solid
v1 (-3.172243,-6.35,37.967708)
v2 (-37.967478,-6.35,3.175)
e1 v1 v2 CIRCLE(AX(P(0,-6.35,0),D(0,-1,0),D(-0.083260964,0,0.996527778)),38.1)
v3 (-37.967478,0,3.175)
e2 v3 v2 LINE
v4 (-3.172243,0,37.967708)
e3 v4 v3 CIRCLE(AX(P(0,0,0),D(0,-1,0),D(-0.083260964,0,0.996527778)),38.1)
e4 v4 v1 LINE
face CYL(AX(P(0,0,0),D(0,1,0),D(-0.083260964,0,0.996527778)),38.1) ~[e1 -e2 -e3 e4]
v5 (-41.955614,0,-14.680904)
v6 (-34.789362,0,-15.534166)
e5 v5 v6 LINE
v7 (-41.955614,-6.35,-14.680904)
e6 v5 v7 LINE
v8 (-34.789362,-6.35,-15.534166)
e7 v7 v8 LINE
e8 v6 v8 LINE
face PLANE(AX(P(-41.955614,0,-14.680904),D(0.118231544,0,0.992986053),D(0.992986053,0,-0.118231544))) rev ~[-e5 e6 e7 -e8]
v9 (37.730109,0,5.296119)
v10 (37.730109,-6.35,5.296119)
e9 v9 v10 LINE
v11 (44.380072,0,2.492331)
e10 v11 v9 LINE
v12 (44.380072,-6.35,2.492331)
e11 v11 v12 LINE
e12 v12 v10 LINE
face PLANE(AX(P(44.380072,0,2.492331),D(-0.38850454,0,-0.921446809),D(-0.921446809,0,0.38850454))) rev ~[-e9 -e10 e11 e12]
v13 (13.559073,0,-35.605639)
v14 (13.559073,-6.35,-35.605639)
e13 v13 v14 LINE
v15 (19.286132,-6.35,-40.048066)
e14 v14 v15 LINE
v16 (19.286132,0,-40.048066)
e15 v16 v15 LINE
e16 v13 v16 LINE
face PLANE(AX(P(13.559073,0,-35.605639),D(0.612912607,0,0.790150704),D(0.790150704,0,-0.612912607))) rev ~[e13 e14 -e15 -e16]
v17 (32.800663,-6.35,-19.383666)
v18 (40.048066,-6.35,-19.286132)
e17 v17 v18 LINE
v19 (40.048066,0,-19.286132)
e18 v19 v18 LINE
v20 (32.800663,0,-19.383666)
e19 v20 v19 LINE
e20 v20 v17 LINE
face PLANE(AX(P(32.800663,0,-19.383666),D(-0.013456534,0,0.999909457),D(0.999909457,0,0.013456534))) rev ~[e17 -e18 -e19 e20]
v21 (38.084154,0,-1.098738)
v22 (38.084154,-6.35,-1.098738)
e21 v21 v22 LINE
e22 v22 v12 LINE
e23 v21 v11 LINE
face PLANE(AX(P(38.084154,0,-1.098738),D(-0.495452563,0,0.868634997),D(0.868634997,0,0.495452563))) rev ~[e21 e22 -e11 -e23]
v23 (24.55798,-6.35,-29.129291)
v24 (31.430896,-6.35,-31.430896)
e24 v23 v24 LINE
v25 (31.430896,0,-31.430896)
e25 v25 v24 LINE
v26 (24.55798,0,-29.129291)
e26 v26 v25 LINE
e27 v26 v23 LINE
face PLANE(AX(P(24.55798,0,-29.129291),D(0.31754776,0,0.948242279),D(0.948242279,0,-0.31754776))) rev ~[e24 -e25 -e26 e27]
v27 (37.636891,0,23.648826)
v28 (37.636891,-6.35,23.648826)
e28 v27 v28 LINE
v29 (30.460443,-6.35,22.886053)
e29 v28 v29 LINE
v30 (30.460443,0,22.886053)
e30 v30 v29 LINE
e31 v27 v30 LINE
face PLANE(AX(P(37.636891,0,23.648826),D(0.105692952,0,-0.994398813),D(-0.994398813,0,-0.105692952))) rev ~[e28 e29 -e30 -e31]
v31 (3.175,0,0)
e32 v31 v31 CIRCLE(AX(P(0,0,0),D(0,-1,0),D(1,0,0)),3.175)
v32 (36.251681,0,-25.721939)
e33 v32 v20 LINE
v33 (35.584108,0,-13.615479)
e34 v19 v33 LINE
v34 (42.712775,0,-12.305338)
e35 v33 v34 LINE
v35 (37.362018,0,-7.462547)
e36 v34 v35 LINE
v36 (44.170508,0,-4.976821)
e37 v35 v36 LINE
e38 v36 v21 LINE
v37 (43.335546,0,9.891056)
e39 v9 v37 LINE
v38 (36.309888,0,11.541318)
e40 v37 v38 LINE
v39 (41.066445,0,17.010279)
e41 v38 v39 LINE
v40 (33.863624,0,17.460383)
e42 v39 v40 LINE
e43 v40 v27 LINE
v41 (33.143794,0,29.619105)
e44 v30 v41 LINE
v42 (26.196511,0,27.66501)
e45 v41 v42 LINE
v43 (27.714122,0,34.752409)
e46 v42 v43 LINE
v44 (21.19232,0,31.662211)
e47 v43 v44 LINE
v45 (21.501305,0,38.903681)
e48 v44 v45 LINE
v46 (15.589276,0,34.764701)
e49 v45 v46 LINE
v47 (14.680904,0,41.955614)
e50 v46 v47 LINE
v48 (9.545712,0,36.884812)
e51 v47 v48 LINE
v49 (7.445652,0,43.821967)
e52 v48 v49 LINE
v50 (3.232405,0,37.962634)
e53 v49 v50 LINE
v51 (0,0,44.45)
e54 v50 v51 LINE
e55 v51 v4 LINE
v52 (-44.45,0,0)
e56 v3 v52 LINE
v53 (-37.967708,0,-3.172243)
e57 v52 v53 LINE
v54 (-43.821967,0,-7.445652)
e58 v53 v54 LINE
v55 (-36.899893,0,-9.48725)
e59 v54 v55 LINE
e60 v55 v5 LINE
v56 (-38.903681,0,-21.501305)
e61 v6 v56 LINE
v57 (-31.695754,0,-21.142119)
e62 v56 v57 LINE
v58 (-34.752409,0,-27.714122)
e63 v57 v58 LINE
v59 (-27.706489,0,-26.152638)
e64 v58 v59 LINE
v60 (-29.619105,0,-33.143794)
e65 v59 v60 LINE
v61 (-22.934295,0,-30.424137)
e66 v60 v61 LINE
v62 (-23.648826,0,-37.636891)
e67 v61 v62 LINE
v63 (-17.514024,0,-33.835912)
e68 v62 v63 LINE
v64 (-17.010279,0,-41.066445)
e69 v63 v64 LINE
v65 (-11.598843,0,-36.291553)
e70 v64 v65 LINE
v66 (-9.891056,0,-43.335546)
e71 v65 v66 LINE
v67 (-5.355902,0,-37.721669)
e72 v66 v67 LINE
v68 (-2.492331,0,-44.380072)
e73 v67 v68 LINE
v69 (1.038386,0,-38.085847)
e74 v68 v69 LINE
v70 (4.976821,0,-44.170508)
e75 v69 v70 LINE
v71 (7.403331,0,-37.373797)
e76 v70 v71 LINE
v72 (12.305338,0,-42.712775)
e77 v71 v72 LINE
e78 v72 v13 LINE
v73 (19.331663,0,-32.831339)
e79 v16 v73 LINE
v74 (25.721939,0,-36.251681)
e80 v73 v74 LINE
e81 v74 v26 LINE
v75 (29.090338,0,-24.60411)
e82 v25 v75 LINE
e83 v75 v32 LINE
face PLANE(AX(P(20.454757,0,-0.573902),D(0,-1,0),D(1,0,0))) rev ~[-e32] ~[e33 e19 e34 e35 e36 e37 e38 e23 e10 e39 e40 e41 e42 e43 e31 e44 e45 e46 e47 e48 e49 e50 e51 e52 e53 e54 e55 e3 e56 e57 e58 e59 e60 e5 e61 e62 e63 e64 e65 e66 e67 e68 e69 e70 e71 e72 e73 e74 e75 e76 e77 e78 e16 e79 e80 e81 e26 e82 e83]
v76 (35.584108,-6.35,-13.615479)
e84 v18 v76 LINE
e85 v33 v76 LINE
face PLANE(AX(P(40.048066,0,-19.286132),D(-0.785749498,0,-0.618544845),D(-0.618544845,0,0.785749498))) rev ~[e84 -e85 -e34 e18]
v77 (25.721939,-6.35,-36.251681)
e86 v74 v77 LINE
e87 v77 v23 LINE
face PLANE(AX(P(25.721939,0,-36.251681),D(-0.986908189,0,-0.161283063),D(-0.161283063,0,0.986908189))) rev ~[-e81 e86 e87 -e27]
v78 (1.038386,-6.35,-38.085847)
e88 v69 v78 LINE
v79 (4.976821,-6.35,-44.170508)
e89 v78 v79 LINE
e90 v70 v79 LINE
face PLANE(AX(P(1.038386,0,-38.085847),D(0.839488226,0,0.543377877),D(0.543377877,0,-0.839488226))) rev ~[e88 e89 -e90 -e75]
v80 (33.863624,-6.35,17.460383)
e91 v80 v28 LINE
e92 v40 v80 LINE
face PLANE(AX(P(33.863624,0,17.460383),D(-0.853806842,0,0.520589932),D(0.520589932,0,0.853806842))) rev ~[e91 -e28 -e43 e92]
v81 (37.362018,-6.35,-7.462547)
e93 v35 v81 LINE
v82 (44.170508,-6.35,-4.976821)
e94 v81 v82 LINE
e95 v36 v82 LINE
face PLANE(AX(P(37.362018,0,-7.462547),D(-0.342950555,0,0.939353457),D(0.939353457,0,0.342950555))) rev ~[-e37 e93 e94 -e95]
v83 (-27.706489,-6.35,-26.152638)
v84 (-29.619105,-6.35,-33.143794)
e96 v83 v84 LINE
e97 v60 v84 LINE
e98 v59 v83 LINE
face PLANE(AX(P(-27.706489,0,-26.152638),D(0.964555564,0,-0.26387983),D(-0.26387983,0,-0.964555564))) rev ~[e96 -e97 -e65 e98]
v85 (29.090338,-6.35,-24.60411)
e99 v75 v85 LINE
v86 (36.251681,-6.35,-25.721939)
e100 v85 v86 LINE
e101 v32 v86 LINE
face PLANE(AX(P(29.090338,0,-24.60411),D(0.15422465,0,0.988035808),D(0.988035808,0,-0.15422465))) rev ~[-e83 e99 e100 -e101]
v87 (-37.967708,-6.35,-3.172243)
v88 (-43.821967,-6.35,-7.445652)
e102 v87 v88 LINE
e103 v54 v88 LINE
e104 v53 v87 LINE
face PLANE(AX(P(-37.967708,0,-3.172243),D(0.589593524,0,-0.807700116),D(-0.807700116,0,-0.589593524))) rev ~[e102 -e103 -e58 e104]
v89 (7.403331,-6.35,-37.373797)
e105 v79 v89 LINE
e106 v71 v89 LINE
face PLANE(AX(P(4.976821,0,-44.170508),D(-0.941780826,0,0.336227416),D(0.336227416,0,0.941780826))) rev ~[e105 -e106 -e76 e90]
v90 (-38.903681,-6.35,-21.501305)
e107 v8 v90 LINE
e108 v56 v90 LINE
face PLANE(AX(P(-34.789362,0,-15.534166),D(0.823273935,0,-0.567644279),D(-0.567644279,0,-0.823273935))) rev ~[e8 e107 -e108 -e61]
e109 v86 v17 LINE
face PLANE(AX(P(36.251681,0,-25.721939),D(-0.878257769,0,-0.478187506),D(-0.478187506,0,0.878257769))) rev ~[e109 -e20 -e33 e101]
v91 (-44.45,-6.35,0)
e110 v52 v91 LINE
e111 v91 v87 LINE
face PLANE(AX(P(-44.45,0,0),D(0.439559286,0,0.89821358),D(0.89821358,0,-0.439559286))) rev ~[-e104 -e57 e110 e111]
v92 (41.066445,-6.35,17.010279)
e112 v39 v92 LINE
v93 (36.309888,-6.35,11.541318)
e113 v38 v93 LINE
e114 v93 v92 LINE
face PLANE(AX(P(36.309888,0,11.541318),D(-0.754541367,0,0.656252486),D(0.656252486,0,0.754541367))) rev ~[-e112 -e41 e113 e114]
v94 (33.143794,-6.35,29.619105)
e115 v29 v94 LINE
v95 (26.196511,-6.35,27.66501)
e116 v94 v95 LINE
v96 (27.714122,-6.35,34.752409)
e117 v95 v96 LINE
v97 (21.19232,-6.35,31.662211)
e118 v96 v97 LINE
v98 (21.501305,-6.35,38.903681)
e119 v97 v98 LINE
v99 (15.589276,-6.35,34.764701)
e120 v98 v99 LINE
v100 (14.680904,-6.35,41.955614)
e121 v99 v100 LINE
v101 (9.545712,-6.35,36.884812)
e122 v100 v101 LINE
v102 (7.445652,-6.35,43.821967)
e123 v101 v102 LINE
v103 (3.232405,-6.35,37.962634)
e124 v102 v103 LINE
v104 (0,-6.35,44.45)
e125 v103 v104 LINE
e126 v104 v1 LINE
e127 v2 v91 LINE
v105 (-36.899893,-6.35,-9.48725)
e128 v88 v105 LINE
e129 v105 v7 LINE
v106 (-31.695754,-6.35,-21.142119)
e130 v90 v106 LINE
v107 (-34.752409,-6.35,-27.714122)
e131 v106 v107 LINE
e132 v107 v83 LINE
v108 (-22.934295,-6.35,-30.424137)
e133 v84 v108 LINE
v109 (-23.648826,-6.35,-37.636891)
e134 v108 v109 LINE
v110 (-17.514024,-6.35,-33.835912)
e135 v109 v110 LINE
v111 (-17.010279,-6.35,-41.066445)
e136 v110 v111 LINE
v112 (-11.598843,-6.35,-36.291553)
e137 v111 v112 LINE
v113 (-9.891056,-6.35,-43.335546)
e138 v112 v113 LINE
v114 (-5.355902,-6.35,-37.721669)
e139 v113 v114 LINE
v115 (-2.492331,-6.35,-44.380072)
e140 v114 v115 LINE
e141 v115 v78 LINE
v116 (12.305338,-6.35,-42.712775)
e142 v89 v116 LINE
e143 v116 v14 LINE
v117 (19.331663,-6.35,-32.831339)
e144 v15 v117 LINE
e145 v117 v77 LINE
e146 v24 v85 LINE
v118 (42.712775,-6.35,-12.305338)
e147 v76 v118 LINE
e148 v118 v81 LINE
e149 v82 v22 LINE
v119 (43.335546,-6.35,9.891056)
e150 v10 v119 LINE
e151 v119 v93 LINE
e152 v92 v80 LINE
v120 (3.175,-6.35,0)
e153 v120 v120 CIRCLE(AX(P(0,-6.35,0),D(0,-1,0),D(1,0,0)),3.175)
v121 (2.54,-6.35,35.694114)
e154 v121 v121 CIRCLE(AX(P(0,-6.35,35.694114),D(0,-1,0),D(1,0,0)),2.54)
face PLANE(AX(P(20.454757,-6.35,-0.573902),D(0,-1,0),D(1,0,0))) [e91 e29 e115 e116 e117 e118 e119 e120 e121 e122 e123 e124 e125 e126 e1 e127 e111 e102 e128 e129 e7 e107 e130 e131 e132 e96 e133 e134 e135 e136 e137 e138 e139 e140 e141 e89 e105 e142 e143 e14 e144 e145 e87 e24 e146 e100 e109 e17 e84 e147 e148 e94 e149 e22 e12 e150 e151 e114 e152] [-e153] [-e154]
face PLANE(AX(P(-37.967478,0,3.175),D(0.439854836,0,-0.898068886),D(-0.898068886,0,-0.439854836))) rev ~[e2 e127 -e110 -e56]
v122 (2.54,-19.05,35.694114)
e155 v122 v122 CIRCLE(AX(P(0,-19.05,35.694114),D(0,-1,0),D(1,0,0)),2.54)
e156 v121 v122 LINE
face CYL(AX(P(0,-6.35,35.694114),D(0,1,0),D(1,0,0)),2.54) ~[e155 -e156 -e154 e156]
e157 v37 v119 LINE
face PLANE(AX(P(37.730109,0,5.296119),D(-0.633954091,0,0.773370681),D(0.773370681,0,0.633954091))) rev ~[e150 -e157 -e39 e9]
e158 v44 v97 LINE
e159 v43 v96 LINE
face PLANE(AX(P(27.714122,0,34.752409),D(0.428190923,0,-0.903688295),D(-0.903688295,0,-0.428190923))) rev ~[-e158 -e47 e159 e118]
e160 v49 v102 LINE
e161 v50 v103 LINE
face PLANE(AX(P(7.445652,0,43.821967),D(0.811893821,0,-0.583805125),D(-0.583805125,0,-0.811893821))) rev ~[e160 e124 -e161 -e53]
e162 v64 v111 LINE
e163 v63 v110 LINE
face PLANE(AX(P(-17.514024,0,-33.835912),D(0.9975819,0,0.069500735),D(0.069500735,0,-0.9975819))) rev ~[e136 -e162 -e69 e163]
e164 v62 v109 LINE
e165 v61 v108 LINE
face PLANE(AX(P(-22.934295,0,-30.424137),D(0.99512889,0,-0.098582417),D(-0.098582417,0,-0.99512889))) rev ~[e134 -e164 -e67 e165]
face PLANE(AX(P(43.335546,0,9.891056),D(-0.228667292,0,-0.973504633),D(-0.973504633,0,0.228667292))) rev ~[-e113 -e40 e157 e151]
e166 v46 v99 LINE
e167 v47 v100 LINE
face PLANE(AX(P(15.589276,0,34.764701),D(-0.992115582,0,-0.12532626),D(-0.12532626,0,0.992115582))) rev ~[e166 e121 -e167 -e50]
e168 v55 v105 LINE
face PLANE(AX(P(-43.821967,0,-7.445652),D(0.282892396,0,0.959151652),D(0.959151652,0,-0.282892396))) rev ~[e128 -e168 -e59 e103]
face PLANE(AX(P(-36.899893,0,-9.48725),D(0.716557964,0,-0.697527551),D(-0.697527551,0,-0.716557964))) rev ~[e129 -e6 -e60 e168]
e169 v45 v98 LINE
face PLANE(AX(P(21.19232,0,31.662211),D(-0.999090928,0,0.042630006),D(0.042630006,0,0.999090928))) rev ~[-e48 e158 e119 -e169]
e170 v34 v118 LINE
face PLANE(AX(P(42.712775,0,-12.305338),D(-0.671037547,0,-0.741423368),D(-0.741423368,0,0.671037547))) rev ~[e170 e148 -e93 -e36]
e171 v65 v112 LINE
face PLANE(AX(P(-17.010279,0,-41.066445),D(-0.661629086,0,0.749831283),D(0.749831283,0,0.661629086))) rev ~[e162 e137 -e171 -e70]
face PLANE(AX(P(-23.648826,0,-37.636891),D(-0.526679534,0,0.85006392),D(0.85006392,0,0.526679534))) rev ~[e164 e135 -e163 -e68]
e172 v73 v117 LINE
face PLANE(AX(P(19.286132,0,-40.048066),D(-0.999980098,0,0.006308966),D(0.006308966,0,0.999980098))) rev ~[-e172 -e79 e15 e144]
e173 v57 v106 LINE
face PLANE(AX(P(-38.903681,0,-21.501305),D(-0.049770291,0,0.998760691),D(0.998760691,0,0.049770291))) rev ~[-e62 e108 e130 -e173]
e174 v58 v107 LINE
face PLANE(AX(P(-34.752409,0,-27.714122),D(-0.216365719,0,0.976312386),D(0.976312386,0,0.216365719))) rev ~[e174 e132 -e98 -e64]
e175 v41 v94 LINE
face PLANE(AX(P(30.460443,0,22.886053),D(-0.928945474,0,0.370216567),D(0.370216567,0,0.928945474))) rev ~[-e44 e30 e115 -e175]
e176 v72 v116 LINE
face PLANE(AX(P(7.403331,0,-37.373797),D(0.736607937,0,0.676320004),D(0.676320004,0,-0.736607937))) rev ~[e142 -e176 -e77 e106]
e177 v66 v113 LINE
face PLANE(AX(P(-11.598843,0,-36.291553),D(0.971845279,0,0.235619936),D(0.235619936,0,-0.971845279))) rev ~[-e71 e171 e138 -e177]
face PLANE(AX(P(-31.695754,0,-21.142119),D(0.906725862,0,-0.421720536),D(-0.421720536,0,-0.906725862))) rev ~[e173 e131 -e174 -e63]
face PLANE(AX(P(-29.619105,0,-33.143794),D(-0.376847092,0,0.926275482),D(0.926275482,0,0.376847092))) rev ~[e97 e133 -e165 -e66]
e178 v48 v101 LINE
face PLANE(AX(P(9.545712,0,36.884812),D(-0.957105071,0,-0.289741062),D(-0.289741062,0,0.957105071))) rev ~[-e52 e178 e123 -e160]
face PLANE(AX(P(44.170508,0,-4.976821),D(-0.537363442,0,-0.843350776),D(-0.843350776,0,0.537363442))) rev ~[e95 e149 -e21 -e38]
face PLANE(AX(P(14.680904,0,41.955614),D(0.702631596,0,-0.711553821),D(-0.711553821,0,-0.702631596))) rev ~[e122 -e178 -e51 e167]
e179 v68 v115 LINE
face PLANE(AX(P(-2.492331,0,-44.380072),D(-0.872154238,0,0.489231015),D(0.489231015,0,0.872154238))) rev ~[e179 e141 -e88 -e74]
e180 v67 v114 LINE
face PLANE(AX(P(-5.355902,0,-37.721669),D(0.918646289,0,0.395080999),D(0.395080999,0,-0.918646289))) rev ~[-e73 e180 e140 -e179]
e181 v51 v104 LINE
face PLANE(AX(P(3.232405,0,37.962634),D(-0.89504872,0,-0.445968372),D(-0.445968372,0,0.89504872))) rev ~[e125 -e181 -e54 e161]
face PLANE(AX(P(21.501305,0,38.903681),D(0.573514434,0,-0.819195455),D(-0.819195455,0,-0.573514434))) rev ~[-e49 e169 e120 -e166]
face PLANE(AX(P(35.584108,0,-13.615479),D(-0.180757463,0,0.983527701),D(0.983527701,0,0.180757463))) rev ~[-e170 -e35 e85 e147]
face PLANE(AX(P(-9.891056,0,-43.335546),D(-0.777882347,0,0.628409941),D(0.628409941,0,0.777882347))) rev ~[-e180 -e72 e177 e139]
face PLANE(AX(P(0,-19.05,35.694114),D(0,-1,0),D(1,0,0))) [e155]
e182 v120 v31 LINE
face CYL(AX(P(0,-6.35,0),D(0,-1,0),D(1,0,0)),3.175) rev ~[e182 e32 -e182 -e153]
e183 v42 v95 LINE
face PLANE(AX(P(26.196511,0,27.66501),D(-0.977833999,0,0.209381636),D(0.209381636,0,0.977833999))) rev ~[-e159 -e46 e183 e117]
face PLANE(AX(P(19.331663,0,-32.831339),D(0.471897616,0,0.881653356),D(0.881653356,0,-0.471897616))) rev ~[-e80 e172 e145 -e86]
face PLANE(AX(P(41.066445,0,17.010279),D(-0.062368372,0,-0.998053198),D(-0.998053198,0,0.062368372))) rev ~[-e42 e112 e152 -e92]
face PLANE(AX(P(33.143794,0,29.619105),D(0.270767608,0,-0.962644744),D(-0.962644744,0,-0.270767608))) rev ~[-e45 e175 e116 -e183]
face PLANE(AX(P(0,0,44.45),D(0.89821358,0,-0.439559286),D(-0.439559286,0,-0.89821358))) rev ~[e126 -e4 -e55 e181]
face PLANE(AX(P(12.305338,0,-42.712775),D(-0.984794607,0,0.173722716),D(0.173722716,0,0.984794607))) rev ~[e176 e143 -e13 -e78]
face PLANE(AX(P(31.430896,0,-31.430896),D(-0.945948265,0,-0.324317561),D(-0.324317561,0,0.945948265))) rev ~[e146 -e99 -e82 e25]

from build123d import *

# Parameters (mm, degrees)
F1_DEPTH = 6.35
F2_R     = 3.175
F3_DEPTH = 25.4
F4_R     = 2.54
F5_DEPTH = 12.7


with BuildPart() as f1:
    # F0 (on Front) → F1 (new body)
    with BuildSketch(Plane.XZ):
        with BuildLine():
            ThreePointArc((38.0841538474, -1.0987382425), (38.0960382559, -0.5494262521), (38.1, 0))
            ThreePointArc((38.1, 0), (38.0850124652, 1.0685623641), (38.0400616522, 2.1362840397))
            Line((38.0400616522, 2.1362840397), (0, 0))
            Line((0, 0), (37.8604351969, -4.2658465395))
            ThreePointArc((37.8604351969, -4.2658465395), (38.0052995649, -2.6846238059), (38.0841538474, -1.0987382425))
        make_face()
        with BuildLine():
            ThreePointArc((38.0400616522, 2.1362840397), (38.0850124652, 1.0685623641), (38.1, 0))
            ThreePointArc((38.1, 0), (38.0960382559, -0.5494262521), (38.0841538474, -1.0987382425))
            Line((38.0841538474, -1.0987382425), (44.3800719275, 2.4923313797))
            Line((44.3800719275, 2.4923313797), (38.0400616522, 2.1362840397))
        make_face()
        with BuildLine():
            Line((0, 0), (38.0400616522, 2.1362840397))
            ThreePointArc((38.0400616522, 2.1362840397), (37.9180145859, 3.7194313898), (37.7301090364, 5.2961185886))
            ThreePointArc((37.7301090364, 5.2961185886), (37.4712213075, 6.8932991902), (37.1447534541, 8.4780475837))
            Line((37.1447534541, 8.4780475837), (0, 0))
        make_face()
        with BuildLine():
            ThreePointArc((37.7301090364, 5.2961185886), (37.9180145859, 3.7194313898), (38.0400616522, 2.1362840397))
            Line((38.0400616522, 2.1362840397), (44.3800719275, 2.4923313797))
            Line((44.3800719275, 2.4923313797), (37.7301090364, 5.2961185886))
        make_face()
        with BuildLine():
            Line((44.1705077298, -4.9768209628), (38.0841538474, -1.0987382425))
            ThreePointArc((38.0841538474, -1.0987382425), (38.0052995649, -2.6846238059), (37.8604351969, -4.2658465395))
            Line((37.8604351969, -4.2658465395), (44.1705077298, -4.9768209628))
        make_face()
        with BuildLine():
            ThreePointArc((37.1447534541, 8.4780475837), (37.4712213075, 6.8932991902), (37.7301090364, 5.2961185886))
            Line((37.7301090364, 5.2961185886), (43.3355456965, 9.8910555144))
            Line((43.3355456965, 9.8910555144), (37.1447534541, 8.4780475837))
        make_face()
        with BuildLine():
            Line((-37.5616858055, -6.3819871079), (0, 0))
            Line((0, 0), (6.3819871079, 37.5616858055))
            ThreePointArc((6.3819871079, 37.5616858055), (4.8113745401, 37.794982141), (3.2324052628, 37.9626336839))
            ThreePointArc((3.2324052628, 37.9626336839), (1.6176613743, 38.06564293), (0, 38.1))
            ThreePointArc((0, 38.1), (-1.5875, 38.0669127163), (-3.1722427264, 37.9677083333))
            ThreePointArc((-3.1722427264, 37.9677083333), (-26.9397901024, 26.9417465885), (-37.9674778593, 3.175))
            ThreePointArc((-37.9674778593, 3.175), (-38.0668550477, 1.5888822422), (-38.1, 0))
            ThreePointArc((-38.1, 0), (-38.0669127163, -1.5875), (-37.9677083333, -3.1722427264))
            ThreePointArc((-37.9677083333, -3.1722427264), (-37.7987825134, -4.7814266182), (-37.5616858055, -6.3819871079))
        make_face()
        with BuildLine():
            Line((6.3819871079, 37.5616858055), (0, 0))
            Line((0, 0), (12.5836322605, 35.9619548847))
            ThreePointArc((12.5836322605, 35.9619548847), (11.0742894366, 36.4550423601), (9.5457120638, 36.8848123378))
            ThreePointArc((9.5457120638, 36.8848123378), (7.9710375516, 37.2568458186), (6.3819871079, 37.5616858055))
        make_face()
        with BuildLine():
            Line((12.5836322605, 35.9619548847), (0, 0))
            Line((0, 0), (18.4296895987, 33.3460123747))
            ThreePointArc((18.4296895987, 33.3460123747), (17.0242674724, 34.0849573423), (15.5892764868, 34.7647013308))
            ThreePointArc((15.5892764868, 34.7647013308), (14.099168445, 35.3952461379), (12.5836322605, 35.9619548847))
        make_face()
        with BuildLine():
            Line((18.4296895987, 33.3460123747), (0, 0))
            Line((0, 0), (23.7549614508, 29.787779482))
            ThreePointArc((23.7549614508, 29.787779482), (22.4931743884, 30.7517008624), (21.1923197123, 31.6622106811))
            ThreePointArc((21.1923197123, 31.6622106811), (19.8288855586, 32.5334489027), (18.4296895987, 33.3460123747))
        make_face()
        with BuildLine():
            Line((23.7549614508, 29.787779482), (0, 0))
            Line((0, 0), (28.408966482, 25.38780462))
            ThreePointArc((28.408966482, 25.38780462), (27.3264700157, 26.5494639585), (26.1965111522, 27.6650104546))
            ThreePointArc((26.1965111522, 27.6650104546), (24.9982787585, 28.7523226733), (23.7549614508, 29.787779482))
        make_face()
        with BuildLine():
            Line((28.408966482, 25.38780462), (0, 0))
            Line((0, 0), (32.2601919906, 20.2704221152))
            ThreePointArc((32.2601919906, 20.2704221152), (31.3875752653, 21.5969932853), (30.4604425502, 22.8860533873))
            ThreePointArc((30.4604425502, 22.8860533873), (29.4612715231, 24.1587143748), (28.408966482, 25.38780462))
        make_face()
        with BuildLine():
            Line((32.2601919906, 20.2704221152), (0, 0))
            Line((0, 0), (35.1998101887, 14.5802387731))
            ThreePointArc((35.1998101887, 14.5802387731), (34.5617315756, 16.0342355757), (33.8636238907, 17.4603830711))
            ThreePointArc((33.8636238907, 17.4603830711), (33.0917487681, 18.8824300202), (32.2601919906, 20.2704221152))
        make_face()
        with BuildLine():
            Line((35.1998101887, 14.5802387731), (0, 0))
            Line((0, 0), (37.1447534541, 8.4780475837))
            ThreePointArc((37.1447534541, 8.4780475837), (36.759243755, 10.0183830311), (36.3098882015, 11.5413178967))
            ThreePointArc((36.3098882015, 11.5413178967), (35.7871206021, 13.0725666574), (35.1998101887, 14.5802387731))
        make_face()
        with BuildLine():
            Line((37.8604351969, -4.2658465395), (0, 0))
            Line((0, 0), (36.6109499661, -10.5474329853))
            ThreePointArc((36.6109499661, -10.5474329853), (37.0186321964, -9.0128170016), (37.3620180496, -7.4625469689))
            ThreePointArc((37.3620180496, -7.4625469689), (37.6451735487, -5.8694896273), (37.8604351969, -4.2658465395))
        make_face()
        with BuildLine():
            Line((36.6109499661, -10.5474329853), (0, 0))
            Line((0, 0), (34.3269138671, -16.5309704604))
            ThreePointArc((34.3269138671, -16.5309704604), (34.9858936904, -15.0863263482), (35.5841077294, -13.6154793195))
            ThreePointArc((35.5841077294, -13.6154793195), (36.1301095486, -12.0923605639), (36.6109499661, -10.5474329853))
        make_face()
        with BuildLine():
            Line((34.3269138671, -16.5309704604), (0, 0))
            Line((0, 0), (31.0728691073, -22.0473763845))
            ThreePointArc((31.0728691073, -22.0473763845), (31.9645250962, -20.7335268436), (32.800663011, -19.3836659598))
            ThreePointArc((32.800663011, -19.3836659598), (33.5940822509, -17.9735260235), (34.3269138671, -16.5309704604))
        make_face()
        with BuildLine():
            Line((31.0728691073, -22.0473763845), (0, 0))
            Line((0, 0), (26.9407683632, -26.9407683632))
            ThreePointArc((26.9407683632, -26.9407683632), (28.0399041357, -25.7948401054), (29.090338372, -24.6041096852))
            ThreePointArc((29.090338372, -24.6041096852), (30.1087546213, -23.3467962504), (31.0728691073, -22.0473763845))
        make_face()
        with BuildLine():
            Line((26.9407683632, -26.9407683632), (0, 0))
            Line((0, 0), (22.0473763845, -31.0728691073))
            ThreePointArc((22.0473763845, -31.0728691073), (23.3229326026, -30.1272437308), (24.5579800287, -29.1292913905))
            ThreePointArc((24.5579800287, -29.1292913905), (25.7726149186, -28.0603335735), (26.9407683632, -26.9407683632))
        make_face()
        with BuildLine():
            Line((22.0473763845, -31.0728691073), (0, 0))
            Line((0, 0), (16.5309704604, -34.3269138671))
            ThreePointArc((16.5309704604, -34.3269138671), (17.9469025038, -33.6083128187), (19.3316631953, -32.8313386584))
            ThreePointArc((19.3316631953, -32.8313386584), (20.7081936181, -31.9809430298), (22.0473763845, -31.0728691073))
        make_face()
        with BuildLine():
            Line((16.5309704604, -34.3269138671), (0, 0))
            Line((0, 0), (10.5474329853, -36.6109499661))
            ThreePointArc((10.5474329853, -36.6109499661), (12.0637294988, -36.1396794477), (13.5590729393, -35.6056391745))
            ThreePointArc((13.5590729393, -35.6056391745), (15.0586009493, -34.9978361824), (16.5309704604, -34.3269138671))
        make_face()
        with BuildLine():
            Line((10.5474329853, -36.6109499661), (0, 0))
            Line((0, 0), (4.2658465395, -37.8604351969))
            ThreePointArc((4.2658465395, -37.8604351969), (5.8396600724, -37.6498123533), (7.4033309023, -37.3737968576))
            ThreePointArc((7.4033309023, -37.3737968576), (8.9834828926, -37.0257617763), (10.5474329853, -36.6109499661))
        make_face()
        with BuildLine():
            Line((4.2658465395, -37.8604351969), (0, 0))
            Line((0, 0), (-2.1362840397, -38.0400616522))
            ThreePointArc((-2.1362840397, -38.0400616522), (-0.5494262521, -38.0960382559), (1.0383858149, -38.0858471732))
            ThreePointArc((1.0383858149, -38.0858471732), (2.6545099091, -38.0074147653), (4.2658465395, -37.8604351969))
        make_face()
        with BuildLine():
            Line((-2.1362840397, -38.0400616522), (0, 0))
            Line((0, 0), (-8.4780475837, -37.1447534541))
            ThreePointArc((-8.4780475837, -37.1447534541), (-6.9229869099, -37.4657477204), (-5.3559019404, -37.72166903))
            ThreePointArc((-5.3559019404, -37.72166903), (-3.7494741172, -37.9150556355), (-2.1362840397, -38.0400616522))
        make_face()
        with BuildLine():
            Line((-8.4780475837, -37.1447534541), (0, 0))
            Line((0, 0), (-14.5802387731, -35.1998101887))
            ThreePointArc((-14.5802387731, -35.1998101887), (-13.10091806, -35.7767514734), (-11.598842817, -36.2915533603))
            ThreePointArc((-11.598842817, -36.2915533603), (-10.0475056427, -36.7512942678), (-8.4780475837, -37.1447534541))
        make_face()
        with BuildLine():
            Line((-14.5802387731, -35.1998101887), (0, 0))
            Line((0, 0), (-20.2704221152, -32.2601919906))
            ThreePointArc((-20.2704221152, -32.2601919906), (-18.9086439527, -33.0767771083), (-17.5140240229, -33.83591232))
            ThreePointArc((-17.5140240229, -33.83591232), (-16.0616151259, -34.5490161878), (-14.5802387731, -35.1998101887))
        make_face()
        with BuildLine():
            Line((-20.2704221152, -32.2601919906), (0, 0))
            Line((0, 0), (-25.38780462, -28.408966482))
            ThreePointArc((-25.38780462, -28.408966482), (-24.1820500849, -29.4421204007), (-22.9342945866, -30.4241373225))
            ThreePointArc((-22.9342945866, -30.4241373225), (-21.6218560838, -31.370453288), (-20.2704221152, -32.2601919906))
        make_face()
        with BuildLine():
            Line((-25.38780462, -28.408966482), (0, 0))
            Line((0, 0), (-29.787779482, -23.7549614508))
            ThreePointArc((-29.787779482, -23.7549614508), (-28.7721207415, -24.9754893453), (-27.7064887033, -26.1526381793))
            ThreePointArc((-27.7064887033, -26.1526381793), (-26.5711074332, -27.305425281), (-25.38780462, -28.408966482))
        make_face()
        with BuildLine():
            Line((-29.787779482, -23.7549614508), (0, 0))
            Line((0, 0), (-33.3460123747, -18.4296895987))
            ThreePointArc((-33.3460123747, -18.4296895987), (-32.5491498758, -19.8031018369), (-31.6957538883, -21.142118755))
            ThreePointArc((-31.6957538883, -21.142118755), (-30.7695134129, -22.4688015777), (-29.787779482, -23.7549614508))
        make_face()
        with BuildLine():
            Line((-33.3460123747, -18.4296895987), (0, 0))
            Line((0, 0), (-35.9619548847, -12.5836322605))
            ThreePointArc((-35.9619548847, -12.5836322605), (-35.4064063384, -14.0711190103), (-34.7893616339, -15.534166122))
            ThreePointArc((-34.7893616339, -15.534166122), (-34.0984356221, -16.9972553115), (-33.3460123747, -18.4296895987))
        make_face()
        with BuildLine():
            Line((-35.9619548847, -12.5836322605), (0, 0))
            Line((0, 0), (-37.5616858055, -6.3819871079))
            ThreePointArc((-37.5616858055, -6.3819871079), (-37.263149882, -7.9415150239), (-36.8998928869, -9.4872495981))
            ThreePointArc((-36.8998928869, -9.4872495981), (-36.4638055004, -11.0454012343), (-35.9619548847, -12.5836322605))
        make_face()
        with BuildLine():
            Line((44.1705077298, -4.9768209628), (37.8604351969, -4.2658465395))
            ThreePointArc((37.8604351969, -4.2658465395), (37.6451735487, -5.8694896273), (37.3620180496, -7.4625469689))
            Line((37.3620180496, -7.4625469689), (44.1705077298, -4.9768209628))
        make_face()
        with BuildLine():
            ThreePointArc((36.3098882015, 11.5413178967), (36.759243755, 10.0183830311), (37.1447534541, 8.4780475837))
            Line((37.1447534541, 8.4780475837), (43.3355456965, 9.8910555144))
            Line((43.3355456965, 9.8910555144), (36.3098882015, 11.5413178967))
        make_face()
        with BuildLine():
            Line((7.4456516259, 43.8219667731), (6.3819871079, 37.5616858055))
            ThreePointArc((6.3819871079, 37.5616858055), (7.9710375516, 37.2568458186), (9.5457120638, 36.8848123378))
            Line((9.5457120638, 36.8848123378), (7.4456516259, 43.8219667731))
        make_face()
        with BuildLine():
            ThreePointArc((3.2324052628, 37.9626336839), (4.8113745401, 37.794982141), (6.3819871079, 37.5616858055))
            Line((6.3819871079, 37.5616858055), (7.4456516259, 43.8219667731))
            Line((7.4456516259, 43.8219667731), (3.2324052628, 37.9626336839))
        make_face()
        with BuildLine():
            Line((14.6809043039, 41.9556140322), (12.5836322605, 35.9619548847))
            ThreePointArc((12.5836322605, 35.9619548847), (14.099168445, 35.3952461379), (15.5892764868, 34.7647013308))
            Line((15.5892764868, 34.7647013308), (14.6809043039, 41.9556140322))
        make_face()
        with BuildLine():
            ThreePointArc((9.5457120638, 36.8848123378), (11.0742894366, 36.4550423601), (12.5836322605, 35.9619548847))
            Line((12.5836322605, 35.9619548847), (14.6809043039, 41.9556140322))
            Line((14.6809043039, 41.9556140322), (9.5457120638, 36.8848123378))
        make_face()
        with BuildLine():
            Line((21.5013045318, 38.9036811038), (18.4296895987, 33.3460123747))
            ThreePointArc((18.4296895987, 33.3460123747), (19.8288855586, 32.5334489027), (21.1923197123, 31.6622106811))
            Line((21.1923197123, 31.6622106811), (21.5013045318, 38.9036811038))
        make_face()
        with BuildLine():
            ThreePointArc((15.5892764868, 34.7647013308), (17.0242674724, 34.0849573423), (18.4296895987, 33.3460123747))
            Line((18.4296895987, 33.3460123747), (21.5013045318, 38.9036811038))
            Line((21.5013045318, 38.9036811038), (15.5892764868, 34.7647013308))
        make_face()
        with BuildLine():
            Line((27.7141216926, 34.7524093957), (23.7549614508, 29.787779482))
            ThreePointArc((23.7549614508, 29.787779482), (24.9982787585, 28.7523226733), (26.1965111522, 27.6650104546))
            Line((26.1965111522, 27.6650104546), (27.7141216926, 34.7524093957))
        make_face()
        with BuildLine():
            ThreePointArc((21.1923197123, 31.6622106811), (22.4931743884, 30.7517008624), (23.7549614508, 29.787779482))
            Line((23.7549614508, 29.787779482), (27.7141216926, 34.7524093957))
            Line((27.7141216926, 34.7524093957), (21.1923197123, 31.6622106811))
        make_face()
        with BuildLine():
            Line((33.1437942291, 29.61910539), (28.408966482, 25.38780462))
            ThreePointArc((28.408966482, 25.38780462), (29.4612715231, 24.1587143748), (30.4604425502, 22.8860533873))
            Line((30.4604425502, 22.8860533873), (33.1437942291, 29.61910539))
        make_face()
        with BuildLine():
            ThreePointArc((26.1965111522, 27.6650104546), (27.3264700157, 26.5494639585), (28.408966482, 25.38780462))
            Line((28.408966482, 25.38780462), (33.1437942291, 29.61910539))
            Line((33.1437942291, 29.61910539), (26.1965111522, 27.6650104546))
        make_face()
        with BuildLine():
            Line((37.6368906557, 23.6488258011), (32.2601919906, 20.2704221152))
            ThreePointArc((32.2601919906, 20.2704221152), (33.0917487681, 18.8824300202), (33.8636238907, 17.4603830711))
            Line((33.8636238907, 17.4603830711), (37.6368906557, 23.6488258011))
        make_face()
        with BuildLine():
            ThreePointArc((30.4604425502, 22.8860533873), (31.3875752653, 21.5969932853), (32.2601919906, 20.2704221152))
            Line((32.2601919906, 20.2704221152), (37.6368906557, 23.6488258011))
            Line((37.6368906557, 23.6488258011), (30.4604425502, 22.8860533873))
        make_face()
        with BuildLine():
            Line((41.0664452201, 17.0102785686), (35.1998101887, 14.5802387731))
            ThreePointArc((35.1998101887, 14.5802387731), (35.7871206021, 13.0725666574), (36.3098882015, 11.5413178967))
            Line((36.3098882015, 11.5413178967), (41.0664452201, 17.0102785686))
        make_face()
        with BuildLine():
            ThreePointArc((33.8636238907, 17.4603830711), (34.5617315756, 16.0342355757), (35.1998101887, 14.5802387731))
            Line((35.1998101887, 14.5802387731), (41.0664452201, 17.0102785686))
            Line((41.0664452201, 17.0102785686), (33.8636238907, 17.4603830711))
        make_face()
        with BuildLine():
            Line((42.7127749605, -12.3053384828), (36.6109499661, -10.5474329853))
            ThreePointArc((36.6109499661, -10.5474329853), (36.1301095486, -12.0923605639), (35.5841077294, -13.6154793195))
            Line((35.5841077294, -13.6154793195), (42.7127749605, -12.3053384828))
        make_face()
        with BuildLine():
            ThreePointArc((37.3620180496, -7.4625469689), (37.0186321964, -9.0128170016), (36.6109499661, -10.5474329853))
            Line((36.6109499661, -10.5474329853), (42.7127749605, -12.3053384828))
            Line((42.7127749605, -12.3053384828), (37.3620180496, -7.4625469689))
        make_face()
        with BuildLine():
            Line((40.0480661783, -19.2861322038), (34.3269138671, -16.5309704604))
            ThreePointArc((34.3269138671, -16.5309704604), (33.5940822509, -17.9735260235), (32.800663011, -19.3836659598))
            Line((32.800663011, -19.3836659598), (40.0480661783, -19.2861322038))
        make_face()
        with BuildLine():
            ThreePointArc((35.5841077294, -13.6154793195), (34.9858936904, -15.0863263482), (34.3269138671, -16.5309704604))
            Line((34.3269138671, -16.5309704604), (40.0480661783, -19.2861322038))
            Line((40.0480661783, -19.2861322038), (35.5841077294, -13.6154793195))
        make_face()
        with BuildLine():
            Line((36.2516806252, -25.7219391152), (31.0728691073, -22.0473763845))
            ThreePointArc((31.0728691073, -22.0473763845), (30.1087546213, -23.3467962504), (29.090338372, -24.6041096852))
            Line((29.090338372, -24.6041096852), (36.2516806252, -25.7219391152))
        make_face()
        with BuildLine():
            ThreePointArc((32.800663011, -19.3836659598), (31.9645250962, -20.7335268436), (31.0728691073, -22.0473763845))
            Line((31.0728691073, -22.0473763845), (36.2516806252, -25.7219391152))
            Line((36.2516806252, -25.7219391152), (32.800663011, -19.3836659598))
        make_face()
        with BuildLine():
            Line((31.4308964237, -31.4308964237), (26.9407683632, -26.9407683632))
            ThreePointArc((26.9407683632, -26.9407683632), (25.7726149186, -28.0603335735), (24.5579800287, -29.1292913905))
            Line((24.5579800287, -29.1292913905), (31.4308964237, -31.4308964237))
        make_face()
        with BuildLine():
            ThreePointArc((29.090338372, -24.6041096852), (28.0399041357, -25.7948401054), (26.9407683632, -26.9407683632))
            Line((26.9407683632, -26.9407683632), (31.4308964237, -31.4308964237))
            Line((31.4308964237, -31.4308964237), (29.090338372, -24.6041096852))
        make_face()
        with BuildLine():
            Line((25.7219391152, -36.2516806252), (22.0473763845, -31.0728691073))
            ThreePointArc((22.0473763845, -31.0728691073), (20.7081936181, -31.9809430298), (19.3316631953, -32.8313386584))
            Line((19.3316631953, -32.8313386584), (25.7219391152, -36.2516806252))
        make_face()
        with BuildLine():
            ThreePointArc((24.5579800287, -29.1292913905), (23.3229326026, -30.1272437308), (22.0473763845, -31.0728691073))
            Line((22.0473763845, -31.0728691073), (25.7219391152, -36.2516806252))
            Line((25.7219391152, -36.2516806252), (24.5579800287, -29.1292913905))
        make_face()
        with BuildLine():
            Line((19.2861322038, -40.0480661783), (16.5309704604, -34.3269138671))
            ThreePointArc((16.5309704604, -34.3269138671), (15.0586009493, -34.9978361824), (13.5590729393, -35.6056391745))
            Line((13.5590729393, -35.6056391745), (19.2861322038, -40.0480661783))
        make_face()
        with BuildLine():
            ThreePointArc((19.3316631953, -32.8313386584), (17.9469025038, -33.6083128187), (16.5309704604, -34.3269138671))
            Line((16.5309704604, -34.3269138671), (19.2861322038, -40.0480661783))
            Line((19.2861322038, -40.0480661783), (19.3316631953, -32.8313386584))
        make_face()
        with BuildLine():
            Line((12.3053384828, -42.7127749605), (10.5474329853, -36.6109499661))
            ThreePointArc((10.5474329853, -36.6109499661), (8.9834828926, -37.0257617763), (7.4033309023, -37.3737968576))
            Line((7.4033309023, -37.3737968576), (12.3053384828, -42.7127749605))
        make_face()
        with BuildLine():
            ThreePointArc((13.5590729393, -35.6056391745), (12.0637294988, -36.1396794477), (10.5474329853, -36.6109499661))
            Line((10.5474329853, -36.6109499661), (12.3053384828, -42.7127749605))
            Line((12.3053384828, -42.7127749605), (13.5590729393, -35.6056391745))
        make_face()
        with BuildLine():
            Line((4.9768209628, -44.1705077298), (4.2658465395, -37.8604351969))
            ThreePointArc((4.2658465395, -37.8604351969), (2.6545099091, -38.0074147653), (1.0383858149, -38.0858471732))
            Line((1.0383858149, -38.0858471732), (4.9768209628, -44.1705077298))
        make_face()
        with BuildLine():
            ThreePointArc((7.4033309023, -37.3737968576), (5.8396600724, -37.6498123533), (4.2658465395, -37.8604351969))
            Line((4.2658465395, -37.8604351969), (4.9768209628, -44.1705077298))
            Line((4.9768209628, -44.1705077298), (7.4033309023, -37.3737968576))
        make_face()
        with BuildLine():
            Line((-2.4923313797, -44.3800719275), (-2.1362840397, -38.0400616522))
            ThreePointArc((-2.1362840397, -38.0400616522), (-3.7494741172, -37.9150556355), (-5.3559019404, -37.72166903))
            Line((-5.3559019404, -37.72166903), (-2.4923313797, -44.3800719275))
        make_face()
        with BuildLine():
            ThreePointArc((1.0383858149, -38.0858471732), (-0.5494262521, -38.0960382559), (-2.1362840397, -38.0400616522))
            Line((-2.1362840397, -38.0400616522), (-2.4923313797, -44.3800719275))
            Line((-2.4923313797, -44.3800719275), (1.0383858149, -38.0858471732))
        make_face()
        with BuildLine():
            Line((-9.8910555144, -43.3355456965), (-8.4780475837, -37.1447534541))
            ThreePointArc((-8.4780475837, -37.1447534541), (-10.0475056427, -36.7512942678), (-11.598842817, -36.2915533603))
            Line((-11.598842817, -36.2915533603), (-9.8910555144, -43.3355456965))
        make_face()
        with BuildLine():
            ThreePointArc((-5.3559019404, -37.72166903), (-6.9229869099, -37.4657477204), (-8.4780475837, -37.1447534541))
            Line((-8.4780475837, -37.1447534541), (-9.8910555144, -43.3355456965))
            Line((-9.8910555144, -43.3355456965), (-5.3559019404, -37.72166903))
        make_face()
        with BuildLine():
            Line((-17.0102785686, -41.0664452201), (-14.5802387731, -35.1998101887))
            ThreePointArc((-14.5802387731, -35.1998101887), (-16.0616151259, -34.5490161878), (-17.5140240229, -33.83591232))
            Line((-17.5140240229, -33.83591232), (-17.0102785686, -41.0664452201))
        make_face()
        with BuildLine():
            ThreePointArc((-11.598842817, -36.2915533603), (-13.10091806, -35.7767514734), (-14.5802387731, -35.1998101887))
            Line((-14.5802387731, -35.1998101887), (-17.0102785686, -41.0664452201))
            Line((-17.0102785686, -41.0664452201), (-11.598842817, -36.2915533603))
        make_face()
        with BuildLine():
            Line((-23.6488258011, -37.6368906557), (-20.2704221152, -32.2601919906))
            ThreePointArc((-20.2704221152, -32.2601919906), (-21.6218560838, -31.370453288), (-22.9342945866, -30.4241373225))
            Line((-22.9342945866, -30.4241373225), (-23.6488258011, -37.6368906557))
        make_face()
        with BuildLine():
            ThreePointArc((-17.5140240229, -33.83591232), (-18.9086439527, -33.0767771083), (-20.2704221152, -32.2601919906))
            Line((-20.2704221152, -32.2601919906), (-23.6488258011, -37.6368906557))
            Line((-23.6488258011, -37.6368906557), (-17.5140240229, -33.83591232))
        make_face()
        with BuildLine():
            Line((-29.61910539, -33.1437942291), (-25.38780462, -28.408966482))
            ThreePointArc((-25.38780462, -28.408966482), (-26.5711074332, -27.305425281), (-27.7064887033, -26.1526381793))
            Line((-27.7064887033, -26.1526381793), (-29.61910539, -33.1437942291))
        make_face()
        with BuildLine():
            ThreePointArc((-22.9342945866, -30.4241373225), (-24.1820500849, -29.4421204007), (-25.38780462, -28.408966482))
            Line((-25.38780462, -28.408966482), (-29.61910539, -33.1437942291))
            Line((-29.61910539, -33.1437942291), (-22.9342945866, -30.4241373225))
        make_face()
        with BuildLine():
            Line((-34.7524093957, -27.7141216926), (-29.787779482, -23.7549614508))
            ThreePointArc((-29.787779482, -23.7549614508), (-30.7695134129, -22.4688015777), (-31.6957538883, -21.142118755))
            Line((-31.6957538883, -21.142118755), (-34.7524093957, -27.7141216926))
        make_face()
        with BuildLine():
            ThreePointArc((-27.7064887033, -26.1526381793), (-28.7721207415, -24.9754893453), (-29.787779482, -23.7549614508))
            Line((-29.787779482, -23.7549614508), (-34.7524093957, -27.7141216926))
            Line((-34.7524093957, -27.7141216926), (-27.7064887033, -26.1526381793))
        make_face()
        with BuildLine():
            Line((-38.9036811038, -21.5013045318), (-33.3460123747, -18.4296895987))
            ThreePointArc((-33.3460123747, -18.4296895987), (-34.0984356221, -16.9972553115), (-34.7893616339, -15.534166122))
            Line((-34.7893616339, -15.534166122), (-38.9036811038, -21.5013045318))
        make_face()
        with BuildLine():
            ThreePointArc((-31.6957538883, -21.142118755), (-32.5491498758, -19.8031018369), (-33.3460123747, -18.4296895987))
            Line((-33.3460123747, -18.4296895987), (-38.9036811038, -21.5013045318))
            Line((-38.9036811038, -21.5013045318), (-31.6957538883, -21.142118755))
        make_face()
        with BuildLine():
            Line((-41.9556140322, -14.6809043039), (-35.9619548847, -12.5836322605))
            ThreePointArc((-35.9619548847, -12.5836322605), (-36.4638055004, -11.0454012343), (-36.8998928869, -9.4872495981))
            Line((-36.8998928869, -9.4872495981), (-41.9556140322, -14.6809043039))
        make_face()
        with BuildLine():
            ThreePointArc((-34.7893616339, -15.534166122), (-35.4064063384, -14.0711190103), (-35.9619548847, -12.5836322605))
            Line((-35.9619548847, -12.5836322605), (-41.9556140322, -14.6809043039))
            Line((-41.9556140322, -14.6809043039), (-34.7893616339, -15.534166122))
        make_face()
        with BuildLine():
            Line((-43.8219667731, -7.4456516259), (-37.5616858055, -6.3819871079))
            ThreePointArc((-37.5616858055, -6.3819871079), (-37.7987825134, -4.7814266182), (-37.9677083333, -3.1722427264))
            Line((-37.9677083333, -3.1722427264), (-43.8219667731, -7.4456516259))
        make_face()
        with BuildLine():
            ThreePointArc((-36.8998928869, -9.4872495981), (-37.263149882, -7.9415150239), (-37.5616858055, -6.3819871079))
            Line((-37.5616858055, -6.3819871079), (-43.8219667731, -7.4456516259))
            Line((-43.8219667731, -7.4456516259), (-36.8998928869, -9.4872495981))
        make_face()
        with BuildLine():
            ThreePointArc((0, 38.1), (1.6176613743, 38.06564293), (3.2324052628, 37.9626336839))
            Line((3.2324052628, 37.9626336839), (0, 44.45))
            Line((0, 44.45), (0, 38.1))
        make_face()
        with BuildLine():
            Line((-44.45, 0), (-37.9677083333, -3.1722427264))
            ThreePointArc((-37.9677083333, -3.1722427264), (-38.0669127163, -1.5875), (-38.1, 0))
            Line((-38.1, 0), (-44.45, 0))
        make_face()
        with BuildLine():
            ThreePointArc((-3.1722427264, 37.9677083333), (-1.5875, 38.0669127163), (0, 38.1))
            Line((0, 38.1), (0, 44.45))
            Line((0, 44.45), (-3.1722427264, 37.9677083333))
        make_face()
        with BuildLine():
            Line((-44.45, 0), (-38.1, 0))
            ThreePointArc((-38.1, 0), (-38.0668550477, 1.5888822422), (-37.9674778593, 3.175))
            Line((-37.9674778593, 3.175), (-44.45, 0))
        make_face()
    extrude(amount=F1_DEPTH)

    # F2 (on face) → F3 (cut)
    with BuildSketch(Plane.XZ.offset(6.35)):
        Circle(F2_R)
    extrude(amount=-F3_DEPTH, mode=Mode.SUBTRACT)

    # F4 (on face) → F5 (join)
    with BuildSketch(Plane.XZ.offset(6.35)):
        with Locations((0, 35.6941140311)):
            Circle(F4_R)
    extrude(amount=F5_DEPTH)


solid = f1.part
